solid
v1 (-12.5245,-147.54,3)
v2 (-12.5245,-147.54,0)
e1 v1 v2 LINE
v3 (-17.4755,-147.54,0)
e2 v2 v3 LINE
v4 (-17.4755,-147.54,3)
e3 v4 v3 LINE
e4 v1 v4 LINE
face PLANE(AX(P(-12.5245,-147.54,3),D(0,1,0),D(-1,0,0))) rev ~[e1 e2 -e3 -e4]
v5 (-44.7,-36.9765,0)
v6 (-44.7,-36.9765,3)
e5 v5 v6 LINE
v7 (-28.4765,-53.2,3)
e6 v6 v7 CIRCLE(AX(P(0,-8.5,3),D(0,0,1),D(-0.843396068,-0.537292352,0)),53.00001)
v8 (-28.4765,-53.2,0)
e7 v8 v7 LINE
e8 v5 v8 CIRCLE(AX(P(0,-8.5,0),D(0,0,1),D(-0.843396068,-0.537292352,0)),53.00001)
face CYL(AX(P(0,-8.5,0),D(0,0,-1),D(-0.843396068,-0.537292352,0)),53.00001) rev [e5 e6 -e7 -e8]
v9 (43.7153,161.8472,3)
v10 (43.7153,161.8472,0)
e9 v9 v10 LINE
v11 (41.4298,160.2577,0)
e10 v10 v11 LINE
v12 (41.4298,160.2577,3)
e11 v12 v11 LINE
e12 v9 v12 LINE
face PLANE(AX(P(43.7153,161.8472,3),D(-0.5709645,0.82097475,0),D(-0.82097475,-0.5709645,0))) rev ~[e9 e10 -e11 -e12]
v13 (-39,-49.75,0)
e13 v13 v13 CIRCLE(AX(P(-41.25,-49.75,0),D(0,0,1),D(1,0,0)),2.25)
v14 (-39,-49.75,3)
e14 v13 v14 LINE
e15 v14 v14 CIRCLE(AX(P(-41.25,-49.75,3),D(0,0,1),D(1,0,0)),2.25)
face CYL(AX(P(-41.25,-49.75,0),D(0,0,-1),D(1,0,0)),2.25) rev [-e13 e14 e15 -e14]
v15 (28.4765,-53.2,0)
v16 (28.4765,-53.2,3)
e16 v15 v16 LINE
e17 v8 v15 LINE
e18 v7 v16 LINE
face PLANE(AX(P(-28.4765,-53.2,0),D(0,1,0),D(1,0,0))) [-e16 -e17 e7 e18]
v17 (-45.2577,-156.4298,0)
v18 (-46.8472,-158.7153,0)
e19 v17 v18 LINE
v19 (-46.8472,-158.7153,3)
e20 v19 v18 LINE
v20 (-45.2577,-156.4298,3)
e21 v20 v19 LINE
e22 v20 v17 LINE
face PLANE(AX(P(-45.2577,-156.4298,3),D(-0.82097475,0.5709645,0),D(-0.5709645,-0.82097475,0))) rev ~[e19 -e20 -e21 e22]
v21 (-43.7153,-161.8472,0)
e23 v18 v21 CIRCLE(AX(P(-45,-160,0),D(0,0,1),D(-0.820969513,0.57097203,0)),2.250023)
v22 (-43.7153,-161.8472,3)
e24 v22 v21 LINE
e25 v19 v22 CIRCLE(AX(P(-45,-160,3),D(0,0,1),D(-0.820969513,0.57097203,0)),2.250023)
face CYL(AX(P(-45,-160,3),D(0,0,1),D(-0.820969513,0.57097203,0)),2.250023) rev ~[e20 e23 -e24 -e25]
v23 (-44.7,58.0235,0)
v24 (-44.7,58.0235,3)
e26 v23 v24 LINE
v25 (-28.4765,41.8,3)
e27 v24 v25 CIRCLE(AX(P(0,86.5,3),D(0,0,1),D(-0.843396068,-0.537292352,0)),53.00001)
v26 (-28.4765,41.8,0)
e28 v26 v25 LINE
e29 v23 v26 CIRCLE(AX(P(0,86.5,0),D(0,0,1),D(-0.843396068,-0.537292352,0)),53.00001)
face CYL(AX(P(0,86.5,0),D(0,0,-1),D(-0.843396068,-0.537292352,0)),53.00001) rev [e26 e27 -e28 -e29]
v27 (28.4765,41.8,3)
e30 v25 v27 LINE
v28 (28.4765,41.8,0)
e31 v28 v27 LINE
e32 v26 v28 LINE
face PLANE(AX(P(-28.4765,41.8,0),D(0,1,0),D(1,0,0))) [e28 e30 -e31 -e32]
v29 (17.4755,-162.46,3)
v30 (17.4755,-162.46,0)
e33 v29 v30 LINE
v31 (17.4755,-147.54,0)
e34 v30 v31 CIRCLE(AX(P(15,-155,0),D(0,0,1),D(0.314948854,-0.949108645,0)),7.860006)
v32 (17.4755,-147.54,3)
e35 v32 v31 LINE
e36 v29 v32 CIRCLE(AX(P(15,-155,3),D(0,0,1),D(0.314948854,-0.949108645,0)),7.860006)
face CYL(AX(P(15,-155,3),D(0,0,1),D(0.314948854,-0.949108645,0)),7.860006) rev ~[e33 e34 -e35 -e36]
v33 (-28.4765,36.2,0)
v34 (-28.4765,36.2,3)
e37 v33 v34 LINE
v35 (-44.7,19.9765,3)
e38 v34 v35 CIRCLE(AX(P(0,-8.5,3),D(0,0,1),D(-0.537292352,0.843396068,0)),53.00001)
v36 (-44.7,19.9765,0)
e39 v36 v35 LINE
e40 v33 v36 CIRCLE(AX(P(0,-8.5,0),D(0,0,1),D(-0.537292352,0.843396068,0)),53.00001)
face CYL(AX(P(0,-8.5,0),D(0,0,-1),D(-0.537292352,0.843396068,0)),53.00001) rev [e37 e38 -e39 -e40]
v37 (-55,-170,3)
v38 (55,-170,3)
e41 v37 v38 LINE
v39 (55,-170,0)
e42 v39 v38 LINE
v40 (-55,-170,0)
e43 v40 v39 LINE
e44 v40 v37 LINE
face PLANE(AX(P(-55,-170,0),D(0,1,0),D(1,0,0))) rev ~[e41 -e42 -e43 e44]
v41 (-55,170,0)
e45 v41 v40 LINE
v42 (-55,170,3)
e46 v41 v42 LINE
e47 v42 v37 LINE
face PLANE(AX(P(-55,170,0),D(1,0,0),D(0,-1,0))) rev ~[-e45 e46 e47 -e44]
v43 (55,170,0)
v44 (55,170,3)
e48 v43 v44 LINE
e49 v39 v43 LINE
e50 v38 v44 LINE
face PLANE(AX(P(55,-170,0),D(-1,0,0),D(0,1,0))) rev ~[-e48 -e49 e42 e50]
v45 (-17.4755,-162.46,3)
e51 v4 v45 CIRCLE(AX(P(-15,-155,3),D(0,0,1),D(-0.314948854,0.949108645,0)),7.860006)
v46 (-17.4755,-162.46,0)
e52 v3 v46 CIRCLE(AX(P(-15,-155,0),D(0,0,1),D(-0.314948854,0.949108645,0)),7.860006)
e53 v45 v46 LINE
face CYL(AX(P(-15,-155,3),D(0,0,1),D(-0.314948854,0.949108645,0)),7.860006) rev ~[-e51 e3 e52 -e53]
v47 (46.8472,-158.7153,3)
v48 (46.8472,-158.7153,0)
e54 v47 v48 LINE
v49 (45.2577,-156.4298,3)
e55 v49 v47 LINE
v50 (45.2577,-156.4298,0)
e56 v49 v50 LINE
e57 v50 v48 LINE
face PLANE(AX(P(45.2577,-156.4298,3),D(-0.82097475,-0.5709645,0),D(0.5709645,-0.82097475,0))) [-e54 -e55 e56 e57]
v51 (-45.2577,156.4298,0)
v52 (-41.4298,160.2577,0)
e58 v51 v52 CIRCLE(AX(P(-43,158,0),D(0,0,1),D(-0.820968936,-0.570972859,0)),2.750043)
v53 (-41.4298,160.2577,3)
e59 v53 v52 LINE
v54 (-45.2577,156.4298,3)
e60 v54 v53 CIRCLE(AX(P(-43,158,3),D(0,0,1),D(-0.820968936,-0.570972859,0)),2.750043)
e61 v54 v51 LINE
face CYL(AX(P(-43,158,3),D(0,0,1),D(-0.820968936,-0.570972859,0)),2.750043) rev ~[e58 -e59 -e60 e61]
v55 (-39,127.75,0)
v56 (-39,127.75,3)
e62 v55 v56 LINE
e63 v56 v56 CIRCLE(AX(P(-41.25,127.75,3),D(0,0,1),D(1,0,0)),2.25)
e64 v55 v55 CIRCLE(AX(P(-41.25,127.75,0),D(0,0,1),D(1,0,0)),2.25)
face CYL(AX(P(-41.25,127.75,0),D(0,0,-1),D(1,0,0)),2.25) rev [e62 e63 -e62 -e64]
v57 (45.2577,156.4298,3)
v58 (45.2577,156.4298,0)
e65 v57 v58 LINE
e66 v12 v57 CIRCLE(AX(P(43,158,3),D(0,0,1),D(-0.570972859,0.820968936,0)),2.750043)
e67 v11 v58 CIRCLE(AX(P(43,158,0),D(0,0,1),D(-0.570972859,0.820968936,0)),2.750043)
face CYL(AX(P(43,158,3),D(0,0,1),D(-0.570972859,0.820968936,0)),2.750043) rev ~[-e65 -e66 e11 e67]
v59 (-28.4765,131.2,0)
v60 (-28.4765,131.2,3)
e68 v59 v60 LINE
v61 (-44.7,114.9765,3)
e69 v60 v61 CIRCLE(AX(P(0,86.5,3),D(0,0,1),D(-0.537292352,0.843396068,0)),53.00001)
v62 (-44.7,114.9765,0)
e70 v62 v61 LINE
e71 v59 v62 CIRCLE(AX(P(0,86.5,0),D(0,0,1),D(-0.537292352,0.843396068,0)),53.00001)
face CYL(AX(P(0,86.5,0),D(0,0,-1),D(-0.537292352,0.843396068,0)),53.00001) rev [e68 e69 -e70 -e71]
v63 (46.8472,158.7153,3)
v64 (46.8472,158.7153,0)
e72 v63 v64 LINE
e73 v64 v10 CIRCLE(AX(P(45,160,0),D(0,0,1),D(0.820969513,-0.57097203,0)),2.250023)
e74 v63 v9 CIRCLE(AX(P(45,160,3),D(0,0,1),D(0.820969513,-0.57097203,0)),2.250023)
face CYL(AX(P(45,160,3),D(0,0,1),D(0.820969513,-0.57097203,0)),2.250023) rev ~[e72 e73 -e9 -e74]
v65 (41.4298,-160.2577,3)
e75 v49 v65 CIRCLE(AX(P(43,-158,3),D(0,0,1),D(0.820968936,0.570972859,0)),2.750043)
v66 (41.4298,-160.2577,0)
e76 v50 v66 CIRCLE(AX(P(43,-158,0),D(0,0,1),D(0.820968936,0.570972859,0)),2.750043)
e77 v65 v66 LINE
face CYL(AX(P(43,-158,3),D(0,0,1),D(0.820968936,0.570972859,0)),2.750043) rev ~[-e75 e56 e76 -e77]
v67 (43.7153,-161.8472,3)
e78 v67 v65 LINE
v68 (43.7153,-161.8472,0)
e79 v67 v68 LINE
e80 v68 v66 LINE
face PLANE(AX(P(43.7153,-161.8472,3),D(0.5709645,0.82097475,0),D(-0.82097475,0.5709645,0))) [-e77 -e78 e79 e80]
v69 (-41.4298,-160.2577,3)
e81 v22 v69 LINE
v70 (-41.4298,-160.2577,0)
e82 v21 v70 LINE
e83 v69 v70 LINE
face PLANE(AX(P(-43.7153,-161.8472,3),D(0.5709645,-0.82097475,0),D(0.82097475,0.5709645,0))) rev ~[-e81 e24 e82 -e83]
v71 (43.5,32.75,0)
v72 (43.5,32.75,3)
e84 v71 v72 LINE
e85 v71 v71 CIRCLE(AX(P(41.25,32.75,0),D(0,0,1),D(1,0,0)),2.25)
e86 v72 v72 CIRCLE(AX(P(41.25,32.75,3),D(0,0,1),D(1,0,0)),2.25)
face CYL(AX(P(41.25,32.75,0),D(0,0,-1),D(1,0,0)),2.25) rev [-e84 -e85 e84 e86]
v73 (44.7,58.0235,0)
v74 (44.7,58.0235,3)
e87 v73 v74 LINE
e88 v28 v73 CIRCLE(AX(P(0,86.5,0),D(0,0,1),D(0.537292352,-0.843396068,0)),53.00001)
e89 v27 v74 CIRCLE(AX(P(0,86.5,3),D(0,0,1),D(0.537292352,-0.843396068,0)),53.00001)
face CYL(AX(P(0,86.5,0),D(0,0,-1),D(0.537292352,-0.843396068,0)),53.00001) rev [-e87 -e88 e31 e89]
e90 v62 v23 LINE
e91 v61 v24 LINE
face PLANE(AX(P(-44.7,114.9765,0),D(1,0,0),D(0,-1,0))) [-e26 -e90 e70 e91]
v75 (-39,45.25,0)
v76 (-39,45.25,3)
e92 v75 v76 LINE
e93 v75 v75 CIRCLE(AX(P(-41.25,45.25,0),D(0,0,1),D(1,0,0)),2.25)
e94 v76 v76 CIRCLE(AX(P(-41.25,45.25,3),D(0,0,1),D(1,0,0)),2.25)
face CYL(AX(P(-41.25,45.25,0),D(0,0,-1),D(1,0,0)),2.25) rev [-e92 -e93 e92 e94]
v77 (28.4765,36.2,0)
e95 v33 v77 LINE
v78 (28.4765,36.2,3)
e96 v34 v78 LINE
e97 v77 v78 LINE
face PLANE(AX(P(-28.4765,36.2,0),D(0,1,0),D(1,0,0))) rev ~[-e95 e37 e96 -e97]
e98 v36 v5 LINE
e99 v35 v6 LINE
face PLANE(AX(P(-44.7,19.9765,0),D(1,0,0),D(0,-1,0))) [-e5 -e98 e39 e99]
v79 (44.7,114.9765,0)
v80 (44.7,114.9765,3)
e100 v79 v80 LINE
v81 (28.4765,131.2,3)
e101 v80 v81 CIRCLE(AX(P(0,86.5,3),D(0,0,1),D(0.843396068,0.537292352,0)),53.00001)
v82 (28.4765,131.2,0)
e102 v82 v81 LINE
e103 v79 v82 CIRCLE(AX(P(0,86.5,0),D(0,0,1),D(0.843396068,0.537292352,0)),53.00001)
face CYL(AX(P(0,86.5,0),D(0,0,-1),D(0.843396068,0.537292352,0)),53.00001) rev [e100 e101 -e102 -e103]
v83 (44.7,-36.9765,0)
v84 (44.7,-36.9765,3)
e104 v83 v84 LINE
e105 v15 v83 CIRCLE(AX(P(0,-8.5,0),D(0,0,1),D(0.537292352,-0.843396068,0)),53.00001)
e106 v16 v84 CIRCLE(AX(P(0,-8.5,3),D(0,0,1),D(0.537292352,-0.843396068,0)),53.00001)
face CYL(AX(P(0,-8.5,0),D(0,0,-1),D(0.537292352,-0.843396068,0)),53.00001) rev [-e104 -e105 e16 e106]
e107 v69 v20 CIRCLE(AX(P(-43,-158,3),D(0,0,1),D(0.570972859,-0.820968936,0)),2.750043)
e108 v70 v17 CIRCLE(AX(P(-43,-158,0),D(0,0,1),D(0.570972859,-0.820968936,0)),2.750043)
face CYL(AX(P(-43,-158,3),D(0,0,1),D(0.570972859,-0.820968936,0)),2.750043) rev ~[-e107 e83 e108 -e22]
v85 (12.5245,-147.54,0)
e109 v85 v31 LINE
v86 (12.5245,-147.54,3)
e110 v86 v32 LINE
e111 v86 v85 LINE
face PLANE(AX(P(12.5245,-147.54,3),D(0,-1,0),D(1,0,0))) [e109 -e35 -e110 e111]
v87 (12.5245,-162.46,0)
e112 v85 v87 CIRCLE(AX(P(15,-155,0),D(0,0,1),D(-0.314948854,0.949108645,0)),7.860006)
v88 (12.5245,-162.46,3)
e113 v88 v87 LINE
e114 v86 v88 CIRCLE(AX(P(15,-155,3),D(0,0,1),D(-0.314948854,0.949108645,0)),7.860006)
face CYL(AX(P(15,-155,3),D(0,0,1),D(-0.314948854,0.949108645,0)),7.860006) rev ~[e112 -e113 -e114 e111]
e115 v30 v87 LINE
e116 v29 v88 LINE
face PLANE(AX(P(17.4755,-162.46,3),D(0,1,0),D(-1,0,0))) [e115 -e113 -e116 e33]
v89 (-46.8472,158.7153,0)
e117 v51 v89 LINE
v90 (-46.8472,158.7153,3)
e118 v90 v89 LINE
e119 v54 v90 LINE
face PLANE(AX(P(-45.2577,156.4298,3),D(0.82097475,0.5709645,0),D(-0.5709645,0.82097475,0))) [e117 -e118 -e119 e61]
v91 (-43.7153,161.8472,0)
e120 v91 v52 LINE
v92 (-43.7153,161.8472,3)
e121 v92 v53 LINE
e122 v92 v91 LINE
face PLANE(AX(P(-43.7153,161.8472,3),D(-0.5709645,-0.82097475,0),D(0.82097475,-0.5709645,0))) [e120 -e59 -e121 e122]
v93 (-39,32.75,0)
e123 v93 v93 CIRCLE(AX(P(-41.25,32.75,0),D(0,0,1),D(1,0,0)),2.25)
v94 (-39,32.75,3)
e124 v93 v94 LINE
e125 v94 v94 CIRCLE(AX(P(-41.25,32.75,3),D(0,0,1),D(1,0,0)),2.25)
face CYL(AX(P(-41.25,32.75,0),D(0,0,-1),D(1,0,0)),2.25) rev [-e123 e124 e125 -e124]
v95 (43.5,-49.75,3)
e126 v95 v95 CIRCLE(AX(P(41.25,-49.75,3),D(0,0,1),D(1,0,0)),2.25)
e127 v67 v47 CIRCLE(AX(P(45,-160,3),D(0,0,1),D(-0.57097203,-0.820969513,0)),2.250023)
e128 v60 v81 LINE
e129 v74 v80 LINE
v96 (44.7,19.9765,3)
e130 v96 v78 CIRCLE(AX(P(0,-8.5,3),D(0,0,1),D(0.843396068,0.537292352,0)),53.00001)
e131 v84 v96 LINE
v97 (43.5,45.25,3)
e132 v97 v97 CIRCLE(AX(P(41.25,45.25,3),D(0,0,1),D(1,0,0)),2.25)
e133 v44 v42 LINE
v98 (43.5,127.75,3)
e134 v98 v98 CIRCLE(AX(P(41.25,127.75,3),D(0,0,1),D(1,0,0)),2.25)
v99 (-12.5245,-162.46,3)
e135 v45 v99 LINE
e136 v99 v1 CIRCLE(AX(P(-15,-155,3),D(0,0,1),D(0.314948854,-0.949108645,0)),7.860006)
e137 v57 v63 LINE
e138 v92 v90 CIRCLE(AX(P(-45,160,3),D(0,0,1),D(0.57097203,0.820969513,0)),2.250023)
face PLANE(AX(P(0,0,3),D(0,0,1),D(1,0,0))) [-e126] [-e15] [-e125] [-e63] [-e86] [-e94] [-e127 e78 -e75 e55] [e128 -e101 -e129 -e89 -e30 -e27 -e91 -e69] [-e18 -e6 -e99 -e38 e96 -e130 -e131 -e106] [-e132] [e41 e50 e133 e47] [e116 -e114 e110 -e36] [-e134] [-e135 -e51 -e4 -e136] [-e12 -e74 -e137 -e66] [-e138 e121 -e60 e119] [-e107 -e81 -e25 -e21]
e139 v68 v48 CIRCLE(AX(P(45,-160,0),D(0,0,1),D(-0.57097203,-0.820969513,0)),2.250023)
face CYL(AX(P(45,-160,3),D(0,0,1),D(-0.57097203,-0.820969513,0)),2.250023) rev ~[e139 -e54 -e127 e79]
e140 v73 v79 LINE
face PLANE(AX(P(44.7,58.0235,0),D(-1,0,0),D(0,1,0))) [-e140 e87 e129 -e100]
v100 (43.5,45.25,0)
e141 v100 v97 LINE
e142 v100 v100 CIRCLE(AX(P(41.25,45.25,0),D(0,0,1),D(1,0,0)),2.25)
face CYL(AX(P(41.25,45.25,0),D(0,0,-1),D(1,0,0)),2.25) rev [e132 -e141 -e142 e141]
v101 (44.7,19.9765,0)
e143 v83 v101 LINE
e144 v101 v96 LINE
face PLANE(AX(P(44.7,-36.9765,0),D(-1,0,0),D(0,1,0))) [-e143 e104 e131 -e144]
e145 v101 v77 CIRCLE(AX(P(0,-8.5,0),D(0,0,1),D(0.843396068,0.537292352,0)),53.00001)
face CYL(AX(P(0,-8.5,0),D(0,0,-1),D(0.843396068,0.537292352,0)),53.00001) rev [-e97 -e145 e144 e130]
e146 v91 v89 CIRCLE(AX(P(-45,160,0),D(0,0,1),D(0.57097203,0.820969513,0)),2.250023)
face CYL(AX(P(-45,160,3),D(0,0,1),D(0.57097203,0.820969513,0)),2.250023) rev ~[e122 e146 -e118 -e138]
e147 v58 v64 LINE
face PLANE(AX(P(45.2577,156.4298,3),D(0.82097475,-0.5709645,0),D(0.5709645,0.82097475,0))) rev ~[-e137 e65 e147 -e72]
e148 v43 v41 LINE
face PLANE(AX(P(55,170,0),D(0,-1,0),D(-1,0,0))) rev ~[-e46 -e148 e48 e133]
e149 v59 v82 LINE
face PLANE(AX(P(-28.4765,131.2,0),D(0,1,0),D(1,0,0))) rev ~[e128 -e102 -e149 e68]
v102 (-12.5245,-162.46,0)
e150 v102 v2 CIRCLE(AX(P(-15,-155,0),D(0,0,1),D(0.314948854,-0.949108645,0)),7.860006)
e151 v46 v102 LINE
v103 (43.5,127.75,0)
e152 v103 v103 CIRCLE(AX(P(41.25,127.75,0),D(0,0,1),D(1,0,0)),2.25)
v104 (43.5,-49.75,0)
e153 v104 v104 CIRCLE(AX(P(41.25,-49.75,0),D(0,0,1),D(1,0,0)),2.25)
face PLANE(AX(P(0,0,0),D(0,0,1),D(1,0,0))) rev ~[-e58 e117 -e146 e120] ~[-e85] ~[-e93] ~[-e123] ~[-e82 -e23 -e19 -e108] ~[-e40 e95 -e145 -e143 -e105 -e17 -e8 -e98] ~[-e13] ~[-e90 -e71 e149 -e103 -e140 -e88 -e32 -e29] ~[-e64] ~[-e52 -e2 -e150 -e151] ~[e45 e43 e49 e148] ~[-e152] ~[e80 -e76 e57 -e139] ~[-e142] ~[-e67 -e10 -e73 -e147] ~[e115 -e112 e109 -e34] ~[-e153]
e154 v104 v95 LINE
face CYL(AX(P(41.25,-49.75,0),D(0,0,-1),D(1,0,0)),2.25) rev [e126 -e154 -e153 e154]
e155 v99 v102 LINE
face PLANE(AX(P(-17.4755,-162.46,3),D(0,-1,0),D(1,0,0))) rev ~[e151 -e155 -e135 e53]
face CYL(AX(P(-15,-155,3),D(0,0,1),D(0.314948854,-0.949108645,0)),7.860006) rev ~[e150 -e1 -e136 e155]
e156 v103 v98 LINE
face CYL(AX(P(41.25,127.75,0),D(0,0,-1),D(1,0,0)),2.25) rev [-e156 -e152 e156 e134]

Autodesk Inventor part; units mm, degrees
ref_plane "YZ Plane" through (0, 0, 0) normal (1, 0, 0) x (0, 1, 0)
ref_plane "XZ Plane" through (0, 0, 0) normal (0, 1, 0) x (-1, 0, 0)
ref_plane "XY Plane" through (0, 0, 0) normal (0, 0, 1) x (1, 0, 0)
sketch "スケッチ1" plane through (0, 0, 0) normal (0, 0, 1) x (1, 0, 0)
  line L0 (-55, -170) -> (55, -170)
  line L1 (55, -170) -> (55, 170)
  line L2 (55, 170) -> (-55, 170)
  line L3 (-55, 170) -> (-55, -170)
  line L4 (-55, -170) -> (55, 170) construction
  line L5 (55, -170) -> (-55, 170) construction
  line L6 (-55, 140) -> (-50, 140) construction
  line L7 (-50, 140) -> (-25, 165) construction
  line L8 (-25, 165) -> (-25, 170) construction
  line L9 (-46, 40.5) -> (46, 40.5) construction
  line L10 (46, 40.5) -> (46, 132.5) construction
  line L11 (46, 132.5) -> (-46, 132.5) construction
  line L12 (-46, 132.5) -> (-46, 40.5) construction
  line L13 (-46, 40.5) -> (46, 132.5) construction
  line L14 (46, 40.5) -> (-46, 132.5) construction
  line L15 (-46, 1.5) -> (46, 1.5) construction
  line L16 (46, 1.5) -> (46, 37.5) construction
  line L17 (46, 37.5) -> (-46, 37.5) construction
  line L18 (-46, 37.5) -> (-46, 1.5) construction
  line L19 (-46, 1.5) -> (46, 37.5) construction
  line L20 (46, 1.5) -> (-46, 37.5) construction
  line L21 (0, 0) -> (0, 86.5) construction
  circle A0 centre (0, 86.5) radius 53 construction
  line L22 (-44.7, 41.8) -> (44.7, 41.8) construction
  line L23 (44.7, 41.8) -> (44.7, 131.2) construction
  line L24 (44.7, 131.2) -> (-44.7, 131.2) construction
  line L25 (-44.7, 131.2) -> (-44.7, 41.8) construction
  line L26 (-44.7, 41.8) -> (44.7, 131.2) construction
  line L27 (44.7, 41.8) -> (-44.7, 131.2) construction
  arc A1 (-28.4765, 131.2) -> (-44.7, 114.9765) centre (0, 86.5) ccw
  arc A2 (-44.7, 58.0235) -> (-28.4765, 41.8) centre (0, 86.5) ccw
  arc A3 (28.4765, 41.8) -> (44.7, 58.0235) centre (0, 86.5) ccw
  arc A4 (44.7, 114.9765) -> (28.4765, 131.2) centre (0, 86.5) ccw
  line L28 (-28.4765, 131.2) -> (28.4765, 131.2)
  line L29 (-44.7, 114.9765) -> (-44.7, 58.0235)
  line L30 (-28.4765, 41.8) -> (28.4765, 41.8)
  line L31 (44.7, 58.0235) -> (44.7, 114.9765)
  line L32 (-41.25, 45.25) -> (41.25, 45.25) construction
  line L33 (41.25, 45.25) -> (41.25, 127.75) construction
  line L34 (41.25, 127.75) -> (-41.25, 127.75) construction
  line L35 (-41.25, 127.75) -> (-41.25, 45.25) construction
  line L36 (-41.25, 45.25) -> (41.25, 127.75) construction
  line L37 (41.25, 45.25) -> (-41.25, 127.75) construction
  circle A5 centre (-41.25, 127.75) radius 2.25
  circle A6 centre (-41.25, 45.25) radius 2.25
  circle A7 centre (41.25, 45.25) radius 2.25
  circle A8 centre (41.25, 127.75) radius 2.25
  circle A9 centre (-45, 160) radius 2.25
  circle A10 centre (45, 160) radius 2.25
  circle A11 centre (45, -160) radius 2.25
  circle A12 centre (-45, -160) radius 2.25
  circle A13 centre (-45, 0) radius 2.25 construction
  circle A14 centre (45, 0) radius 2.25 construction
  line L38 (-55, 0) -> (55, 0) construction
  circle A15 centre (-41.25, -49.75) radius 2.25
  arc A16 (-44.7, -36.9765) -> (-28.4765, -53.2) centre (0, -8.5) ccw
  line L39 (-28.4765, -53.2) -> (28.4765, -53.2)
  arc A17 (28.4765, -53.2) -> (44.7, -36.9765) centre (0, -8.5) ccw
  circle A18 centre (41.25, -49.75) radius 2.25
  line L40 (44.7, -36.9765) -> (44.7, 19.9765)
  circle A19 centre (41.25, 32.75) radius 2.25
  arc A20 (44.7, 19.9765) -> (28.4765, 36.2) centre (0, -8.5) ccw
  line L41 (-28.4765, 36.2) -> (28.4765, 36.2)
  circle A21 centre (-41.25, 32.75) radius 2.25
  arc A22 (-28.4765, 36.2) -> (-44.7, 19.9765) centre (0, -8.5) ccw
  line L42 (-44.7, 19.9765) -> (-44.7, -36.9765)
  circle A23 centre (-41.25, -144.75) radius 2.25
  arc A24 (-44.7, -131.9765) -> (-28.4765, -148.2) centre (0, -103.5) ccw
  line L43 (-28.4765, -148.2) -> (28.4765, -148.2)
  arc A25 (28.4765, -148.2) -> (44.7, -131.9765) centre (0, -103.5) ccw
  circle A26 centre (41.25, -144.75) radius 2.25
  line L44 (44.7, -131.9765) -> (44.7, -75.0235)
  circle A27 centre (41.25, -62.25) radius 2.25
  arc A28 (44.7, -75.0235) -> (28.4765, -58.8) centre (0, -103.5) ccw
  line L45 (-28.4765, -58.8) -> (28.4765, -58.8)
  circle A29 centre (-41.25, -62.25) radius 2.25
  arc A30 (-28.4765, -58.8) -> (-44.7, -75.0235) centre (0, -103.5) ccw
  line L46 (-44.7, -75.0235) -> (-44.7, -131.9765)
  point P0 (0, 19.5)
  point P1 (0, 19.5)
  dimension "d12" = 106
  dimension "d0" = 110
  dimension "d1" = 340
  dimension "d2" = 135
  dimension "d3" = 30
  dimension "d4" = 30
  dimension "d5" = 5
  dimension "d6" = 92
  dimension "d7" = 92
  dimension "d8" = 92
  dimension "d9" = 36
  dimension "d10" = 3
  dimension "d11" = 1.5
  dimension "d13" = 89.4
  dimension "d14" = 89.4
  dimension "d15" = 82.5
  dimension "d16" = 82.5
  dimension "d17" = 4.5
  dimension "d25" = 4.5
  dimension "d26" = 10
  dimension "d27" = 10
  dimension "d28" = 10
  dimension "d29" = 10
  dimension "d30" = 10
  dimension "d31" = 10
  dimension "d32" = 10
  dimension "d33" = 10
  dimension "d34" = 10
  dimension "d35" = 10
  dimension "d45" = 95
extrude "押し出し1" add sketch "スケッチ1" along normal blind 3 contours L3 L2 L1 L0 | A23 | L46 A30 L45 A28 L44 A25 L43 A24 | A26 | A27 | A29
sketch "スケッチ2" plane through (0, 0, 3) normal (0, 0, 1) x (1, 0, 0)
  circle A0 centre (-45, 160) radius 2.25 construction
  circle A1 centre (45, -160) radius 2.25 construction
  circle A2 centre (-45, -160) radius 2.25 construction
  circle A3 centre (-43, 158) radius 2.75 construction
  line L0 (55, 170) -> (-55, 170) projected
  line L1 (-55, 170) -> (-55, -170) projected
  line L2 (-43.7153, 161.8472) -> (-41.4298, 160.2577)
  line L3 (-45.2577, 156.4298) -> (-46.8472, 158.7153)
  circle A4 centre (-45, 160) radius 2.25 construction
  arc A5 (-43.7153, 161.8472) -> (-46.8472, 158.7153) centre (-45, 160) ccw
  arc A6 (-45.2577, 156.4298) -> (-41.4298, 160.2577) centre (-43, 158) ccw
  line L4 (55, 170) -> (-55, 170) construction
  line L5 (0, 170) -> (0, -170) construction
  line L6 (-55, -170) -> (55, -170) construction
  line L7 (-55, 0) -> (55, 0) construction
  line L8 (55, -170) -> (55, 170) construction
  circle A7 centre (45, 160) radius 2.25 construction
  circle A8 centre (43, 158) radius 2.75 construction
  line L9 (43.7153, 161.8472) -> (41.4298, 160.2577)
  line L10 (45.2577, 156.4298) -> (46.8472, 158.7153)
  circle A9 centre (45, 160) radius 2.25 construction
  arc A10 (46.8472, 158.7153) -> (43.7153, 161.8472) centre (45, 160) ccw
  arc A11 (41.4298, 160.2577) -> (45.2577, 156.4298) centre (43, 158) ccw
  circle A12 centre (-45, -160) radius 2.25 construction
  circle A13 centre (-43, -158) radius 2.75 construction
  line L11 (-43.7153, -161.8472) -> (-41.4298, -160.2577)
  line L12 (-45.2577, -156.4298) -> (-46.8472, -158.7153)
  circle A14 centre (-45, -160) radius 2.25 construction
  arc A15 (-46.8472, -158.7153) -> (-43.7153, -161.8472) centre (-45, -160) ccw
  arc A16 (-41.4298, -160.2577) -> (-45.2577, -156.4298) centre (-43, -158) ccw
  circle A17 centre (45, -160) radius 2.25 construction
  line L13 (45.2577, -156.4298) -> (46.8472, -158.7153)
  arc A18 (45.2577, -156.4298) -> (41.4298, -160.2577) centre (43, -158) ccw
  circle A19 centre (43, -158) radius 2.75 construction
  line L14 (43.7153, -161.8472) -> (41.4298, -160.2577)
  circle A20 centre (45, -160) radius 2.25 construction
  arc A21 (43.7153, -161.8472) -> (46.8472, -158.7153) centre (45, -160) ccw
  point P0 (0, 0)
  dimension "d38" = 5.5
  dimension "d39" = 12
  dimension "d40" = 12
extrude "押し出し2" cut sketch "スケッチ2" against normal through all
sketch "スケッチ3" plane through (0, 0, 3) normal (0, 0, 1) x (1, 0, 0)
  line L0 (-55, -170) -> (55, -170) construction
  line L1 (-55, 170) -> (-55, -170) construction
  line L2 (55, -170) -> (55, 170) construction
  line L3 (0, -170) -> (0, -116.79) construction
  arc A0 (-17.4739, -147.55) -> (-17.4739, -162.45) centre (-15, -155) ccw construction
  line L4 (-17.4739, -147.55) -> (-12.5261, -147.55) construction
  line L5 (-12.5261, -162.45) -> (-17.4739, -162.45) construction
  arc A1 (-12.5261, -147.55) -> (-17.4739, -147.55) centre (-15, -155) ccw construction
  arc A2 (-12.5261, -162.45) -> (-12.5261, -147.55) centre (-15, -155) ccw construction
  arc A3 (-17.4739, -162.45) -> (-12.5261, -162.45) centre (-15, -155) ccw construction
  line L6 (-17.4755, -162.46) -> (-12.5245, -162.46)
  arc A4 (-12.5245, -162.46) -> (-12.5245, -147.54) centre (-15, -155) ccw
  line L7 (-12.5245, -147.54) -> (-17.4755, -147.54)
  arc A5 (-17.4755, -147.54) -> (-17.4755, -162.46) centre (-15, -155) ccw
  line L8 (17.4755, -162.46) -> (12.5245, -162.46)
  arc A6 (12.5245, -147.54) -> (12.5245, -162.46) centre (15, -155) ccw
  line L9 (12.5245, -147.54) -> (17.4755, -147.54)
  arc A7 (17.4755, -162.46) -> (17.4755, -147.54) centre (15, -155) ccw
  point P0 (0, 0)
  dimension "d50" = 15.7
  dimension "d51" = 14.9
  dimension "d52" = 15
  dimension "d53" = 15
  dimension "d54" = 40
  dimension "d55" = 0.01
extrude "押し出し3" cut sketch "スケッチ3" against normal through all
sketch "スケッチ4" plane through (0, 0, 3) normal (0, 0, 1) x (1, 0, 0)
  line L0 (-55, 170) -> (-55, -170) projected
  line L1 (-55, 170) -> (55, 170)
  line L2 (55, 170) -> (55, 167)
  line L3 (55, 167) -> (-55, 167)
  line L4 (-55, 167) -> (-55, 170)
  point P0 (0, 0)
  dimension "d58" = 3
extrude "押し出し4" [suppressed]
equation "\"d4\" = d3"
equation "\"d11\" = 0.5 * d10"
equation "\"d27\" = d26"
equation "\"d28\" = d26"
equation "\"d29\" = d26"
equation "\"d30\" = d26"
equation "\"d31\" = d26"
equation "\"d32\" = d26"
equation "\"d33\" = d26"
equation "\"d34\" = d26"
equation "\"d35\" = d26"
equation "\"d45\" = d7 + d10"
properties part number "top_panel" material "アルミニウム 6061"
